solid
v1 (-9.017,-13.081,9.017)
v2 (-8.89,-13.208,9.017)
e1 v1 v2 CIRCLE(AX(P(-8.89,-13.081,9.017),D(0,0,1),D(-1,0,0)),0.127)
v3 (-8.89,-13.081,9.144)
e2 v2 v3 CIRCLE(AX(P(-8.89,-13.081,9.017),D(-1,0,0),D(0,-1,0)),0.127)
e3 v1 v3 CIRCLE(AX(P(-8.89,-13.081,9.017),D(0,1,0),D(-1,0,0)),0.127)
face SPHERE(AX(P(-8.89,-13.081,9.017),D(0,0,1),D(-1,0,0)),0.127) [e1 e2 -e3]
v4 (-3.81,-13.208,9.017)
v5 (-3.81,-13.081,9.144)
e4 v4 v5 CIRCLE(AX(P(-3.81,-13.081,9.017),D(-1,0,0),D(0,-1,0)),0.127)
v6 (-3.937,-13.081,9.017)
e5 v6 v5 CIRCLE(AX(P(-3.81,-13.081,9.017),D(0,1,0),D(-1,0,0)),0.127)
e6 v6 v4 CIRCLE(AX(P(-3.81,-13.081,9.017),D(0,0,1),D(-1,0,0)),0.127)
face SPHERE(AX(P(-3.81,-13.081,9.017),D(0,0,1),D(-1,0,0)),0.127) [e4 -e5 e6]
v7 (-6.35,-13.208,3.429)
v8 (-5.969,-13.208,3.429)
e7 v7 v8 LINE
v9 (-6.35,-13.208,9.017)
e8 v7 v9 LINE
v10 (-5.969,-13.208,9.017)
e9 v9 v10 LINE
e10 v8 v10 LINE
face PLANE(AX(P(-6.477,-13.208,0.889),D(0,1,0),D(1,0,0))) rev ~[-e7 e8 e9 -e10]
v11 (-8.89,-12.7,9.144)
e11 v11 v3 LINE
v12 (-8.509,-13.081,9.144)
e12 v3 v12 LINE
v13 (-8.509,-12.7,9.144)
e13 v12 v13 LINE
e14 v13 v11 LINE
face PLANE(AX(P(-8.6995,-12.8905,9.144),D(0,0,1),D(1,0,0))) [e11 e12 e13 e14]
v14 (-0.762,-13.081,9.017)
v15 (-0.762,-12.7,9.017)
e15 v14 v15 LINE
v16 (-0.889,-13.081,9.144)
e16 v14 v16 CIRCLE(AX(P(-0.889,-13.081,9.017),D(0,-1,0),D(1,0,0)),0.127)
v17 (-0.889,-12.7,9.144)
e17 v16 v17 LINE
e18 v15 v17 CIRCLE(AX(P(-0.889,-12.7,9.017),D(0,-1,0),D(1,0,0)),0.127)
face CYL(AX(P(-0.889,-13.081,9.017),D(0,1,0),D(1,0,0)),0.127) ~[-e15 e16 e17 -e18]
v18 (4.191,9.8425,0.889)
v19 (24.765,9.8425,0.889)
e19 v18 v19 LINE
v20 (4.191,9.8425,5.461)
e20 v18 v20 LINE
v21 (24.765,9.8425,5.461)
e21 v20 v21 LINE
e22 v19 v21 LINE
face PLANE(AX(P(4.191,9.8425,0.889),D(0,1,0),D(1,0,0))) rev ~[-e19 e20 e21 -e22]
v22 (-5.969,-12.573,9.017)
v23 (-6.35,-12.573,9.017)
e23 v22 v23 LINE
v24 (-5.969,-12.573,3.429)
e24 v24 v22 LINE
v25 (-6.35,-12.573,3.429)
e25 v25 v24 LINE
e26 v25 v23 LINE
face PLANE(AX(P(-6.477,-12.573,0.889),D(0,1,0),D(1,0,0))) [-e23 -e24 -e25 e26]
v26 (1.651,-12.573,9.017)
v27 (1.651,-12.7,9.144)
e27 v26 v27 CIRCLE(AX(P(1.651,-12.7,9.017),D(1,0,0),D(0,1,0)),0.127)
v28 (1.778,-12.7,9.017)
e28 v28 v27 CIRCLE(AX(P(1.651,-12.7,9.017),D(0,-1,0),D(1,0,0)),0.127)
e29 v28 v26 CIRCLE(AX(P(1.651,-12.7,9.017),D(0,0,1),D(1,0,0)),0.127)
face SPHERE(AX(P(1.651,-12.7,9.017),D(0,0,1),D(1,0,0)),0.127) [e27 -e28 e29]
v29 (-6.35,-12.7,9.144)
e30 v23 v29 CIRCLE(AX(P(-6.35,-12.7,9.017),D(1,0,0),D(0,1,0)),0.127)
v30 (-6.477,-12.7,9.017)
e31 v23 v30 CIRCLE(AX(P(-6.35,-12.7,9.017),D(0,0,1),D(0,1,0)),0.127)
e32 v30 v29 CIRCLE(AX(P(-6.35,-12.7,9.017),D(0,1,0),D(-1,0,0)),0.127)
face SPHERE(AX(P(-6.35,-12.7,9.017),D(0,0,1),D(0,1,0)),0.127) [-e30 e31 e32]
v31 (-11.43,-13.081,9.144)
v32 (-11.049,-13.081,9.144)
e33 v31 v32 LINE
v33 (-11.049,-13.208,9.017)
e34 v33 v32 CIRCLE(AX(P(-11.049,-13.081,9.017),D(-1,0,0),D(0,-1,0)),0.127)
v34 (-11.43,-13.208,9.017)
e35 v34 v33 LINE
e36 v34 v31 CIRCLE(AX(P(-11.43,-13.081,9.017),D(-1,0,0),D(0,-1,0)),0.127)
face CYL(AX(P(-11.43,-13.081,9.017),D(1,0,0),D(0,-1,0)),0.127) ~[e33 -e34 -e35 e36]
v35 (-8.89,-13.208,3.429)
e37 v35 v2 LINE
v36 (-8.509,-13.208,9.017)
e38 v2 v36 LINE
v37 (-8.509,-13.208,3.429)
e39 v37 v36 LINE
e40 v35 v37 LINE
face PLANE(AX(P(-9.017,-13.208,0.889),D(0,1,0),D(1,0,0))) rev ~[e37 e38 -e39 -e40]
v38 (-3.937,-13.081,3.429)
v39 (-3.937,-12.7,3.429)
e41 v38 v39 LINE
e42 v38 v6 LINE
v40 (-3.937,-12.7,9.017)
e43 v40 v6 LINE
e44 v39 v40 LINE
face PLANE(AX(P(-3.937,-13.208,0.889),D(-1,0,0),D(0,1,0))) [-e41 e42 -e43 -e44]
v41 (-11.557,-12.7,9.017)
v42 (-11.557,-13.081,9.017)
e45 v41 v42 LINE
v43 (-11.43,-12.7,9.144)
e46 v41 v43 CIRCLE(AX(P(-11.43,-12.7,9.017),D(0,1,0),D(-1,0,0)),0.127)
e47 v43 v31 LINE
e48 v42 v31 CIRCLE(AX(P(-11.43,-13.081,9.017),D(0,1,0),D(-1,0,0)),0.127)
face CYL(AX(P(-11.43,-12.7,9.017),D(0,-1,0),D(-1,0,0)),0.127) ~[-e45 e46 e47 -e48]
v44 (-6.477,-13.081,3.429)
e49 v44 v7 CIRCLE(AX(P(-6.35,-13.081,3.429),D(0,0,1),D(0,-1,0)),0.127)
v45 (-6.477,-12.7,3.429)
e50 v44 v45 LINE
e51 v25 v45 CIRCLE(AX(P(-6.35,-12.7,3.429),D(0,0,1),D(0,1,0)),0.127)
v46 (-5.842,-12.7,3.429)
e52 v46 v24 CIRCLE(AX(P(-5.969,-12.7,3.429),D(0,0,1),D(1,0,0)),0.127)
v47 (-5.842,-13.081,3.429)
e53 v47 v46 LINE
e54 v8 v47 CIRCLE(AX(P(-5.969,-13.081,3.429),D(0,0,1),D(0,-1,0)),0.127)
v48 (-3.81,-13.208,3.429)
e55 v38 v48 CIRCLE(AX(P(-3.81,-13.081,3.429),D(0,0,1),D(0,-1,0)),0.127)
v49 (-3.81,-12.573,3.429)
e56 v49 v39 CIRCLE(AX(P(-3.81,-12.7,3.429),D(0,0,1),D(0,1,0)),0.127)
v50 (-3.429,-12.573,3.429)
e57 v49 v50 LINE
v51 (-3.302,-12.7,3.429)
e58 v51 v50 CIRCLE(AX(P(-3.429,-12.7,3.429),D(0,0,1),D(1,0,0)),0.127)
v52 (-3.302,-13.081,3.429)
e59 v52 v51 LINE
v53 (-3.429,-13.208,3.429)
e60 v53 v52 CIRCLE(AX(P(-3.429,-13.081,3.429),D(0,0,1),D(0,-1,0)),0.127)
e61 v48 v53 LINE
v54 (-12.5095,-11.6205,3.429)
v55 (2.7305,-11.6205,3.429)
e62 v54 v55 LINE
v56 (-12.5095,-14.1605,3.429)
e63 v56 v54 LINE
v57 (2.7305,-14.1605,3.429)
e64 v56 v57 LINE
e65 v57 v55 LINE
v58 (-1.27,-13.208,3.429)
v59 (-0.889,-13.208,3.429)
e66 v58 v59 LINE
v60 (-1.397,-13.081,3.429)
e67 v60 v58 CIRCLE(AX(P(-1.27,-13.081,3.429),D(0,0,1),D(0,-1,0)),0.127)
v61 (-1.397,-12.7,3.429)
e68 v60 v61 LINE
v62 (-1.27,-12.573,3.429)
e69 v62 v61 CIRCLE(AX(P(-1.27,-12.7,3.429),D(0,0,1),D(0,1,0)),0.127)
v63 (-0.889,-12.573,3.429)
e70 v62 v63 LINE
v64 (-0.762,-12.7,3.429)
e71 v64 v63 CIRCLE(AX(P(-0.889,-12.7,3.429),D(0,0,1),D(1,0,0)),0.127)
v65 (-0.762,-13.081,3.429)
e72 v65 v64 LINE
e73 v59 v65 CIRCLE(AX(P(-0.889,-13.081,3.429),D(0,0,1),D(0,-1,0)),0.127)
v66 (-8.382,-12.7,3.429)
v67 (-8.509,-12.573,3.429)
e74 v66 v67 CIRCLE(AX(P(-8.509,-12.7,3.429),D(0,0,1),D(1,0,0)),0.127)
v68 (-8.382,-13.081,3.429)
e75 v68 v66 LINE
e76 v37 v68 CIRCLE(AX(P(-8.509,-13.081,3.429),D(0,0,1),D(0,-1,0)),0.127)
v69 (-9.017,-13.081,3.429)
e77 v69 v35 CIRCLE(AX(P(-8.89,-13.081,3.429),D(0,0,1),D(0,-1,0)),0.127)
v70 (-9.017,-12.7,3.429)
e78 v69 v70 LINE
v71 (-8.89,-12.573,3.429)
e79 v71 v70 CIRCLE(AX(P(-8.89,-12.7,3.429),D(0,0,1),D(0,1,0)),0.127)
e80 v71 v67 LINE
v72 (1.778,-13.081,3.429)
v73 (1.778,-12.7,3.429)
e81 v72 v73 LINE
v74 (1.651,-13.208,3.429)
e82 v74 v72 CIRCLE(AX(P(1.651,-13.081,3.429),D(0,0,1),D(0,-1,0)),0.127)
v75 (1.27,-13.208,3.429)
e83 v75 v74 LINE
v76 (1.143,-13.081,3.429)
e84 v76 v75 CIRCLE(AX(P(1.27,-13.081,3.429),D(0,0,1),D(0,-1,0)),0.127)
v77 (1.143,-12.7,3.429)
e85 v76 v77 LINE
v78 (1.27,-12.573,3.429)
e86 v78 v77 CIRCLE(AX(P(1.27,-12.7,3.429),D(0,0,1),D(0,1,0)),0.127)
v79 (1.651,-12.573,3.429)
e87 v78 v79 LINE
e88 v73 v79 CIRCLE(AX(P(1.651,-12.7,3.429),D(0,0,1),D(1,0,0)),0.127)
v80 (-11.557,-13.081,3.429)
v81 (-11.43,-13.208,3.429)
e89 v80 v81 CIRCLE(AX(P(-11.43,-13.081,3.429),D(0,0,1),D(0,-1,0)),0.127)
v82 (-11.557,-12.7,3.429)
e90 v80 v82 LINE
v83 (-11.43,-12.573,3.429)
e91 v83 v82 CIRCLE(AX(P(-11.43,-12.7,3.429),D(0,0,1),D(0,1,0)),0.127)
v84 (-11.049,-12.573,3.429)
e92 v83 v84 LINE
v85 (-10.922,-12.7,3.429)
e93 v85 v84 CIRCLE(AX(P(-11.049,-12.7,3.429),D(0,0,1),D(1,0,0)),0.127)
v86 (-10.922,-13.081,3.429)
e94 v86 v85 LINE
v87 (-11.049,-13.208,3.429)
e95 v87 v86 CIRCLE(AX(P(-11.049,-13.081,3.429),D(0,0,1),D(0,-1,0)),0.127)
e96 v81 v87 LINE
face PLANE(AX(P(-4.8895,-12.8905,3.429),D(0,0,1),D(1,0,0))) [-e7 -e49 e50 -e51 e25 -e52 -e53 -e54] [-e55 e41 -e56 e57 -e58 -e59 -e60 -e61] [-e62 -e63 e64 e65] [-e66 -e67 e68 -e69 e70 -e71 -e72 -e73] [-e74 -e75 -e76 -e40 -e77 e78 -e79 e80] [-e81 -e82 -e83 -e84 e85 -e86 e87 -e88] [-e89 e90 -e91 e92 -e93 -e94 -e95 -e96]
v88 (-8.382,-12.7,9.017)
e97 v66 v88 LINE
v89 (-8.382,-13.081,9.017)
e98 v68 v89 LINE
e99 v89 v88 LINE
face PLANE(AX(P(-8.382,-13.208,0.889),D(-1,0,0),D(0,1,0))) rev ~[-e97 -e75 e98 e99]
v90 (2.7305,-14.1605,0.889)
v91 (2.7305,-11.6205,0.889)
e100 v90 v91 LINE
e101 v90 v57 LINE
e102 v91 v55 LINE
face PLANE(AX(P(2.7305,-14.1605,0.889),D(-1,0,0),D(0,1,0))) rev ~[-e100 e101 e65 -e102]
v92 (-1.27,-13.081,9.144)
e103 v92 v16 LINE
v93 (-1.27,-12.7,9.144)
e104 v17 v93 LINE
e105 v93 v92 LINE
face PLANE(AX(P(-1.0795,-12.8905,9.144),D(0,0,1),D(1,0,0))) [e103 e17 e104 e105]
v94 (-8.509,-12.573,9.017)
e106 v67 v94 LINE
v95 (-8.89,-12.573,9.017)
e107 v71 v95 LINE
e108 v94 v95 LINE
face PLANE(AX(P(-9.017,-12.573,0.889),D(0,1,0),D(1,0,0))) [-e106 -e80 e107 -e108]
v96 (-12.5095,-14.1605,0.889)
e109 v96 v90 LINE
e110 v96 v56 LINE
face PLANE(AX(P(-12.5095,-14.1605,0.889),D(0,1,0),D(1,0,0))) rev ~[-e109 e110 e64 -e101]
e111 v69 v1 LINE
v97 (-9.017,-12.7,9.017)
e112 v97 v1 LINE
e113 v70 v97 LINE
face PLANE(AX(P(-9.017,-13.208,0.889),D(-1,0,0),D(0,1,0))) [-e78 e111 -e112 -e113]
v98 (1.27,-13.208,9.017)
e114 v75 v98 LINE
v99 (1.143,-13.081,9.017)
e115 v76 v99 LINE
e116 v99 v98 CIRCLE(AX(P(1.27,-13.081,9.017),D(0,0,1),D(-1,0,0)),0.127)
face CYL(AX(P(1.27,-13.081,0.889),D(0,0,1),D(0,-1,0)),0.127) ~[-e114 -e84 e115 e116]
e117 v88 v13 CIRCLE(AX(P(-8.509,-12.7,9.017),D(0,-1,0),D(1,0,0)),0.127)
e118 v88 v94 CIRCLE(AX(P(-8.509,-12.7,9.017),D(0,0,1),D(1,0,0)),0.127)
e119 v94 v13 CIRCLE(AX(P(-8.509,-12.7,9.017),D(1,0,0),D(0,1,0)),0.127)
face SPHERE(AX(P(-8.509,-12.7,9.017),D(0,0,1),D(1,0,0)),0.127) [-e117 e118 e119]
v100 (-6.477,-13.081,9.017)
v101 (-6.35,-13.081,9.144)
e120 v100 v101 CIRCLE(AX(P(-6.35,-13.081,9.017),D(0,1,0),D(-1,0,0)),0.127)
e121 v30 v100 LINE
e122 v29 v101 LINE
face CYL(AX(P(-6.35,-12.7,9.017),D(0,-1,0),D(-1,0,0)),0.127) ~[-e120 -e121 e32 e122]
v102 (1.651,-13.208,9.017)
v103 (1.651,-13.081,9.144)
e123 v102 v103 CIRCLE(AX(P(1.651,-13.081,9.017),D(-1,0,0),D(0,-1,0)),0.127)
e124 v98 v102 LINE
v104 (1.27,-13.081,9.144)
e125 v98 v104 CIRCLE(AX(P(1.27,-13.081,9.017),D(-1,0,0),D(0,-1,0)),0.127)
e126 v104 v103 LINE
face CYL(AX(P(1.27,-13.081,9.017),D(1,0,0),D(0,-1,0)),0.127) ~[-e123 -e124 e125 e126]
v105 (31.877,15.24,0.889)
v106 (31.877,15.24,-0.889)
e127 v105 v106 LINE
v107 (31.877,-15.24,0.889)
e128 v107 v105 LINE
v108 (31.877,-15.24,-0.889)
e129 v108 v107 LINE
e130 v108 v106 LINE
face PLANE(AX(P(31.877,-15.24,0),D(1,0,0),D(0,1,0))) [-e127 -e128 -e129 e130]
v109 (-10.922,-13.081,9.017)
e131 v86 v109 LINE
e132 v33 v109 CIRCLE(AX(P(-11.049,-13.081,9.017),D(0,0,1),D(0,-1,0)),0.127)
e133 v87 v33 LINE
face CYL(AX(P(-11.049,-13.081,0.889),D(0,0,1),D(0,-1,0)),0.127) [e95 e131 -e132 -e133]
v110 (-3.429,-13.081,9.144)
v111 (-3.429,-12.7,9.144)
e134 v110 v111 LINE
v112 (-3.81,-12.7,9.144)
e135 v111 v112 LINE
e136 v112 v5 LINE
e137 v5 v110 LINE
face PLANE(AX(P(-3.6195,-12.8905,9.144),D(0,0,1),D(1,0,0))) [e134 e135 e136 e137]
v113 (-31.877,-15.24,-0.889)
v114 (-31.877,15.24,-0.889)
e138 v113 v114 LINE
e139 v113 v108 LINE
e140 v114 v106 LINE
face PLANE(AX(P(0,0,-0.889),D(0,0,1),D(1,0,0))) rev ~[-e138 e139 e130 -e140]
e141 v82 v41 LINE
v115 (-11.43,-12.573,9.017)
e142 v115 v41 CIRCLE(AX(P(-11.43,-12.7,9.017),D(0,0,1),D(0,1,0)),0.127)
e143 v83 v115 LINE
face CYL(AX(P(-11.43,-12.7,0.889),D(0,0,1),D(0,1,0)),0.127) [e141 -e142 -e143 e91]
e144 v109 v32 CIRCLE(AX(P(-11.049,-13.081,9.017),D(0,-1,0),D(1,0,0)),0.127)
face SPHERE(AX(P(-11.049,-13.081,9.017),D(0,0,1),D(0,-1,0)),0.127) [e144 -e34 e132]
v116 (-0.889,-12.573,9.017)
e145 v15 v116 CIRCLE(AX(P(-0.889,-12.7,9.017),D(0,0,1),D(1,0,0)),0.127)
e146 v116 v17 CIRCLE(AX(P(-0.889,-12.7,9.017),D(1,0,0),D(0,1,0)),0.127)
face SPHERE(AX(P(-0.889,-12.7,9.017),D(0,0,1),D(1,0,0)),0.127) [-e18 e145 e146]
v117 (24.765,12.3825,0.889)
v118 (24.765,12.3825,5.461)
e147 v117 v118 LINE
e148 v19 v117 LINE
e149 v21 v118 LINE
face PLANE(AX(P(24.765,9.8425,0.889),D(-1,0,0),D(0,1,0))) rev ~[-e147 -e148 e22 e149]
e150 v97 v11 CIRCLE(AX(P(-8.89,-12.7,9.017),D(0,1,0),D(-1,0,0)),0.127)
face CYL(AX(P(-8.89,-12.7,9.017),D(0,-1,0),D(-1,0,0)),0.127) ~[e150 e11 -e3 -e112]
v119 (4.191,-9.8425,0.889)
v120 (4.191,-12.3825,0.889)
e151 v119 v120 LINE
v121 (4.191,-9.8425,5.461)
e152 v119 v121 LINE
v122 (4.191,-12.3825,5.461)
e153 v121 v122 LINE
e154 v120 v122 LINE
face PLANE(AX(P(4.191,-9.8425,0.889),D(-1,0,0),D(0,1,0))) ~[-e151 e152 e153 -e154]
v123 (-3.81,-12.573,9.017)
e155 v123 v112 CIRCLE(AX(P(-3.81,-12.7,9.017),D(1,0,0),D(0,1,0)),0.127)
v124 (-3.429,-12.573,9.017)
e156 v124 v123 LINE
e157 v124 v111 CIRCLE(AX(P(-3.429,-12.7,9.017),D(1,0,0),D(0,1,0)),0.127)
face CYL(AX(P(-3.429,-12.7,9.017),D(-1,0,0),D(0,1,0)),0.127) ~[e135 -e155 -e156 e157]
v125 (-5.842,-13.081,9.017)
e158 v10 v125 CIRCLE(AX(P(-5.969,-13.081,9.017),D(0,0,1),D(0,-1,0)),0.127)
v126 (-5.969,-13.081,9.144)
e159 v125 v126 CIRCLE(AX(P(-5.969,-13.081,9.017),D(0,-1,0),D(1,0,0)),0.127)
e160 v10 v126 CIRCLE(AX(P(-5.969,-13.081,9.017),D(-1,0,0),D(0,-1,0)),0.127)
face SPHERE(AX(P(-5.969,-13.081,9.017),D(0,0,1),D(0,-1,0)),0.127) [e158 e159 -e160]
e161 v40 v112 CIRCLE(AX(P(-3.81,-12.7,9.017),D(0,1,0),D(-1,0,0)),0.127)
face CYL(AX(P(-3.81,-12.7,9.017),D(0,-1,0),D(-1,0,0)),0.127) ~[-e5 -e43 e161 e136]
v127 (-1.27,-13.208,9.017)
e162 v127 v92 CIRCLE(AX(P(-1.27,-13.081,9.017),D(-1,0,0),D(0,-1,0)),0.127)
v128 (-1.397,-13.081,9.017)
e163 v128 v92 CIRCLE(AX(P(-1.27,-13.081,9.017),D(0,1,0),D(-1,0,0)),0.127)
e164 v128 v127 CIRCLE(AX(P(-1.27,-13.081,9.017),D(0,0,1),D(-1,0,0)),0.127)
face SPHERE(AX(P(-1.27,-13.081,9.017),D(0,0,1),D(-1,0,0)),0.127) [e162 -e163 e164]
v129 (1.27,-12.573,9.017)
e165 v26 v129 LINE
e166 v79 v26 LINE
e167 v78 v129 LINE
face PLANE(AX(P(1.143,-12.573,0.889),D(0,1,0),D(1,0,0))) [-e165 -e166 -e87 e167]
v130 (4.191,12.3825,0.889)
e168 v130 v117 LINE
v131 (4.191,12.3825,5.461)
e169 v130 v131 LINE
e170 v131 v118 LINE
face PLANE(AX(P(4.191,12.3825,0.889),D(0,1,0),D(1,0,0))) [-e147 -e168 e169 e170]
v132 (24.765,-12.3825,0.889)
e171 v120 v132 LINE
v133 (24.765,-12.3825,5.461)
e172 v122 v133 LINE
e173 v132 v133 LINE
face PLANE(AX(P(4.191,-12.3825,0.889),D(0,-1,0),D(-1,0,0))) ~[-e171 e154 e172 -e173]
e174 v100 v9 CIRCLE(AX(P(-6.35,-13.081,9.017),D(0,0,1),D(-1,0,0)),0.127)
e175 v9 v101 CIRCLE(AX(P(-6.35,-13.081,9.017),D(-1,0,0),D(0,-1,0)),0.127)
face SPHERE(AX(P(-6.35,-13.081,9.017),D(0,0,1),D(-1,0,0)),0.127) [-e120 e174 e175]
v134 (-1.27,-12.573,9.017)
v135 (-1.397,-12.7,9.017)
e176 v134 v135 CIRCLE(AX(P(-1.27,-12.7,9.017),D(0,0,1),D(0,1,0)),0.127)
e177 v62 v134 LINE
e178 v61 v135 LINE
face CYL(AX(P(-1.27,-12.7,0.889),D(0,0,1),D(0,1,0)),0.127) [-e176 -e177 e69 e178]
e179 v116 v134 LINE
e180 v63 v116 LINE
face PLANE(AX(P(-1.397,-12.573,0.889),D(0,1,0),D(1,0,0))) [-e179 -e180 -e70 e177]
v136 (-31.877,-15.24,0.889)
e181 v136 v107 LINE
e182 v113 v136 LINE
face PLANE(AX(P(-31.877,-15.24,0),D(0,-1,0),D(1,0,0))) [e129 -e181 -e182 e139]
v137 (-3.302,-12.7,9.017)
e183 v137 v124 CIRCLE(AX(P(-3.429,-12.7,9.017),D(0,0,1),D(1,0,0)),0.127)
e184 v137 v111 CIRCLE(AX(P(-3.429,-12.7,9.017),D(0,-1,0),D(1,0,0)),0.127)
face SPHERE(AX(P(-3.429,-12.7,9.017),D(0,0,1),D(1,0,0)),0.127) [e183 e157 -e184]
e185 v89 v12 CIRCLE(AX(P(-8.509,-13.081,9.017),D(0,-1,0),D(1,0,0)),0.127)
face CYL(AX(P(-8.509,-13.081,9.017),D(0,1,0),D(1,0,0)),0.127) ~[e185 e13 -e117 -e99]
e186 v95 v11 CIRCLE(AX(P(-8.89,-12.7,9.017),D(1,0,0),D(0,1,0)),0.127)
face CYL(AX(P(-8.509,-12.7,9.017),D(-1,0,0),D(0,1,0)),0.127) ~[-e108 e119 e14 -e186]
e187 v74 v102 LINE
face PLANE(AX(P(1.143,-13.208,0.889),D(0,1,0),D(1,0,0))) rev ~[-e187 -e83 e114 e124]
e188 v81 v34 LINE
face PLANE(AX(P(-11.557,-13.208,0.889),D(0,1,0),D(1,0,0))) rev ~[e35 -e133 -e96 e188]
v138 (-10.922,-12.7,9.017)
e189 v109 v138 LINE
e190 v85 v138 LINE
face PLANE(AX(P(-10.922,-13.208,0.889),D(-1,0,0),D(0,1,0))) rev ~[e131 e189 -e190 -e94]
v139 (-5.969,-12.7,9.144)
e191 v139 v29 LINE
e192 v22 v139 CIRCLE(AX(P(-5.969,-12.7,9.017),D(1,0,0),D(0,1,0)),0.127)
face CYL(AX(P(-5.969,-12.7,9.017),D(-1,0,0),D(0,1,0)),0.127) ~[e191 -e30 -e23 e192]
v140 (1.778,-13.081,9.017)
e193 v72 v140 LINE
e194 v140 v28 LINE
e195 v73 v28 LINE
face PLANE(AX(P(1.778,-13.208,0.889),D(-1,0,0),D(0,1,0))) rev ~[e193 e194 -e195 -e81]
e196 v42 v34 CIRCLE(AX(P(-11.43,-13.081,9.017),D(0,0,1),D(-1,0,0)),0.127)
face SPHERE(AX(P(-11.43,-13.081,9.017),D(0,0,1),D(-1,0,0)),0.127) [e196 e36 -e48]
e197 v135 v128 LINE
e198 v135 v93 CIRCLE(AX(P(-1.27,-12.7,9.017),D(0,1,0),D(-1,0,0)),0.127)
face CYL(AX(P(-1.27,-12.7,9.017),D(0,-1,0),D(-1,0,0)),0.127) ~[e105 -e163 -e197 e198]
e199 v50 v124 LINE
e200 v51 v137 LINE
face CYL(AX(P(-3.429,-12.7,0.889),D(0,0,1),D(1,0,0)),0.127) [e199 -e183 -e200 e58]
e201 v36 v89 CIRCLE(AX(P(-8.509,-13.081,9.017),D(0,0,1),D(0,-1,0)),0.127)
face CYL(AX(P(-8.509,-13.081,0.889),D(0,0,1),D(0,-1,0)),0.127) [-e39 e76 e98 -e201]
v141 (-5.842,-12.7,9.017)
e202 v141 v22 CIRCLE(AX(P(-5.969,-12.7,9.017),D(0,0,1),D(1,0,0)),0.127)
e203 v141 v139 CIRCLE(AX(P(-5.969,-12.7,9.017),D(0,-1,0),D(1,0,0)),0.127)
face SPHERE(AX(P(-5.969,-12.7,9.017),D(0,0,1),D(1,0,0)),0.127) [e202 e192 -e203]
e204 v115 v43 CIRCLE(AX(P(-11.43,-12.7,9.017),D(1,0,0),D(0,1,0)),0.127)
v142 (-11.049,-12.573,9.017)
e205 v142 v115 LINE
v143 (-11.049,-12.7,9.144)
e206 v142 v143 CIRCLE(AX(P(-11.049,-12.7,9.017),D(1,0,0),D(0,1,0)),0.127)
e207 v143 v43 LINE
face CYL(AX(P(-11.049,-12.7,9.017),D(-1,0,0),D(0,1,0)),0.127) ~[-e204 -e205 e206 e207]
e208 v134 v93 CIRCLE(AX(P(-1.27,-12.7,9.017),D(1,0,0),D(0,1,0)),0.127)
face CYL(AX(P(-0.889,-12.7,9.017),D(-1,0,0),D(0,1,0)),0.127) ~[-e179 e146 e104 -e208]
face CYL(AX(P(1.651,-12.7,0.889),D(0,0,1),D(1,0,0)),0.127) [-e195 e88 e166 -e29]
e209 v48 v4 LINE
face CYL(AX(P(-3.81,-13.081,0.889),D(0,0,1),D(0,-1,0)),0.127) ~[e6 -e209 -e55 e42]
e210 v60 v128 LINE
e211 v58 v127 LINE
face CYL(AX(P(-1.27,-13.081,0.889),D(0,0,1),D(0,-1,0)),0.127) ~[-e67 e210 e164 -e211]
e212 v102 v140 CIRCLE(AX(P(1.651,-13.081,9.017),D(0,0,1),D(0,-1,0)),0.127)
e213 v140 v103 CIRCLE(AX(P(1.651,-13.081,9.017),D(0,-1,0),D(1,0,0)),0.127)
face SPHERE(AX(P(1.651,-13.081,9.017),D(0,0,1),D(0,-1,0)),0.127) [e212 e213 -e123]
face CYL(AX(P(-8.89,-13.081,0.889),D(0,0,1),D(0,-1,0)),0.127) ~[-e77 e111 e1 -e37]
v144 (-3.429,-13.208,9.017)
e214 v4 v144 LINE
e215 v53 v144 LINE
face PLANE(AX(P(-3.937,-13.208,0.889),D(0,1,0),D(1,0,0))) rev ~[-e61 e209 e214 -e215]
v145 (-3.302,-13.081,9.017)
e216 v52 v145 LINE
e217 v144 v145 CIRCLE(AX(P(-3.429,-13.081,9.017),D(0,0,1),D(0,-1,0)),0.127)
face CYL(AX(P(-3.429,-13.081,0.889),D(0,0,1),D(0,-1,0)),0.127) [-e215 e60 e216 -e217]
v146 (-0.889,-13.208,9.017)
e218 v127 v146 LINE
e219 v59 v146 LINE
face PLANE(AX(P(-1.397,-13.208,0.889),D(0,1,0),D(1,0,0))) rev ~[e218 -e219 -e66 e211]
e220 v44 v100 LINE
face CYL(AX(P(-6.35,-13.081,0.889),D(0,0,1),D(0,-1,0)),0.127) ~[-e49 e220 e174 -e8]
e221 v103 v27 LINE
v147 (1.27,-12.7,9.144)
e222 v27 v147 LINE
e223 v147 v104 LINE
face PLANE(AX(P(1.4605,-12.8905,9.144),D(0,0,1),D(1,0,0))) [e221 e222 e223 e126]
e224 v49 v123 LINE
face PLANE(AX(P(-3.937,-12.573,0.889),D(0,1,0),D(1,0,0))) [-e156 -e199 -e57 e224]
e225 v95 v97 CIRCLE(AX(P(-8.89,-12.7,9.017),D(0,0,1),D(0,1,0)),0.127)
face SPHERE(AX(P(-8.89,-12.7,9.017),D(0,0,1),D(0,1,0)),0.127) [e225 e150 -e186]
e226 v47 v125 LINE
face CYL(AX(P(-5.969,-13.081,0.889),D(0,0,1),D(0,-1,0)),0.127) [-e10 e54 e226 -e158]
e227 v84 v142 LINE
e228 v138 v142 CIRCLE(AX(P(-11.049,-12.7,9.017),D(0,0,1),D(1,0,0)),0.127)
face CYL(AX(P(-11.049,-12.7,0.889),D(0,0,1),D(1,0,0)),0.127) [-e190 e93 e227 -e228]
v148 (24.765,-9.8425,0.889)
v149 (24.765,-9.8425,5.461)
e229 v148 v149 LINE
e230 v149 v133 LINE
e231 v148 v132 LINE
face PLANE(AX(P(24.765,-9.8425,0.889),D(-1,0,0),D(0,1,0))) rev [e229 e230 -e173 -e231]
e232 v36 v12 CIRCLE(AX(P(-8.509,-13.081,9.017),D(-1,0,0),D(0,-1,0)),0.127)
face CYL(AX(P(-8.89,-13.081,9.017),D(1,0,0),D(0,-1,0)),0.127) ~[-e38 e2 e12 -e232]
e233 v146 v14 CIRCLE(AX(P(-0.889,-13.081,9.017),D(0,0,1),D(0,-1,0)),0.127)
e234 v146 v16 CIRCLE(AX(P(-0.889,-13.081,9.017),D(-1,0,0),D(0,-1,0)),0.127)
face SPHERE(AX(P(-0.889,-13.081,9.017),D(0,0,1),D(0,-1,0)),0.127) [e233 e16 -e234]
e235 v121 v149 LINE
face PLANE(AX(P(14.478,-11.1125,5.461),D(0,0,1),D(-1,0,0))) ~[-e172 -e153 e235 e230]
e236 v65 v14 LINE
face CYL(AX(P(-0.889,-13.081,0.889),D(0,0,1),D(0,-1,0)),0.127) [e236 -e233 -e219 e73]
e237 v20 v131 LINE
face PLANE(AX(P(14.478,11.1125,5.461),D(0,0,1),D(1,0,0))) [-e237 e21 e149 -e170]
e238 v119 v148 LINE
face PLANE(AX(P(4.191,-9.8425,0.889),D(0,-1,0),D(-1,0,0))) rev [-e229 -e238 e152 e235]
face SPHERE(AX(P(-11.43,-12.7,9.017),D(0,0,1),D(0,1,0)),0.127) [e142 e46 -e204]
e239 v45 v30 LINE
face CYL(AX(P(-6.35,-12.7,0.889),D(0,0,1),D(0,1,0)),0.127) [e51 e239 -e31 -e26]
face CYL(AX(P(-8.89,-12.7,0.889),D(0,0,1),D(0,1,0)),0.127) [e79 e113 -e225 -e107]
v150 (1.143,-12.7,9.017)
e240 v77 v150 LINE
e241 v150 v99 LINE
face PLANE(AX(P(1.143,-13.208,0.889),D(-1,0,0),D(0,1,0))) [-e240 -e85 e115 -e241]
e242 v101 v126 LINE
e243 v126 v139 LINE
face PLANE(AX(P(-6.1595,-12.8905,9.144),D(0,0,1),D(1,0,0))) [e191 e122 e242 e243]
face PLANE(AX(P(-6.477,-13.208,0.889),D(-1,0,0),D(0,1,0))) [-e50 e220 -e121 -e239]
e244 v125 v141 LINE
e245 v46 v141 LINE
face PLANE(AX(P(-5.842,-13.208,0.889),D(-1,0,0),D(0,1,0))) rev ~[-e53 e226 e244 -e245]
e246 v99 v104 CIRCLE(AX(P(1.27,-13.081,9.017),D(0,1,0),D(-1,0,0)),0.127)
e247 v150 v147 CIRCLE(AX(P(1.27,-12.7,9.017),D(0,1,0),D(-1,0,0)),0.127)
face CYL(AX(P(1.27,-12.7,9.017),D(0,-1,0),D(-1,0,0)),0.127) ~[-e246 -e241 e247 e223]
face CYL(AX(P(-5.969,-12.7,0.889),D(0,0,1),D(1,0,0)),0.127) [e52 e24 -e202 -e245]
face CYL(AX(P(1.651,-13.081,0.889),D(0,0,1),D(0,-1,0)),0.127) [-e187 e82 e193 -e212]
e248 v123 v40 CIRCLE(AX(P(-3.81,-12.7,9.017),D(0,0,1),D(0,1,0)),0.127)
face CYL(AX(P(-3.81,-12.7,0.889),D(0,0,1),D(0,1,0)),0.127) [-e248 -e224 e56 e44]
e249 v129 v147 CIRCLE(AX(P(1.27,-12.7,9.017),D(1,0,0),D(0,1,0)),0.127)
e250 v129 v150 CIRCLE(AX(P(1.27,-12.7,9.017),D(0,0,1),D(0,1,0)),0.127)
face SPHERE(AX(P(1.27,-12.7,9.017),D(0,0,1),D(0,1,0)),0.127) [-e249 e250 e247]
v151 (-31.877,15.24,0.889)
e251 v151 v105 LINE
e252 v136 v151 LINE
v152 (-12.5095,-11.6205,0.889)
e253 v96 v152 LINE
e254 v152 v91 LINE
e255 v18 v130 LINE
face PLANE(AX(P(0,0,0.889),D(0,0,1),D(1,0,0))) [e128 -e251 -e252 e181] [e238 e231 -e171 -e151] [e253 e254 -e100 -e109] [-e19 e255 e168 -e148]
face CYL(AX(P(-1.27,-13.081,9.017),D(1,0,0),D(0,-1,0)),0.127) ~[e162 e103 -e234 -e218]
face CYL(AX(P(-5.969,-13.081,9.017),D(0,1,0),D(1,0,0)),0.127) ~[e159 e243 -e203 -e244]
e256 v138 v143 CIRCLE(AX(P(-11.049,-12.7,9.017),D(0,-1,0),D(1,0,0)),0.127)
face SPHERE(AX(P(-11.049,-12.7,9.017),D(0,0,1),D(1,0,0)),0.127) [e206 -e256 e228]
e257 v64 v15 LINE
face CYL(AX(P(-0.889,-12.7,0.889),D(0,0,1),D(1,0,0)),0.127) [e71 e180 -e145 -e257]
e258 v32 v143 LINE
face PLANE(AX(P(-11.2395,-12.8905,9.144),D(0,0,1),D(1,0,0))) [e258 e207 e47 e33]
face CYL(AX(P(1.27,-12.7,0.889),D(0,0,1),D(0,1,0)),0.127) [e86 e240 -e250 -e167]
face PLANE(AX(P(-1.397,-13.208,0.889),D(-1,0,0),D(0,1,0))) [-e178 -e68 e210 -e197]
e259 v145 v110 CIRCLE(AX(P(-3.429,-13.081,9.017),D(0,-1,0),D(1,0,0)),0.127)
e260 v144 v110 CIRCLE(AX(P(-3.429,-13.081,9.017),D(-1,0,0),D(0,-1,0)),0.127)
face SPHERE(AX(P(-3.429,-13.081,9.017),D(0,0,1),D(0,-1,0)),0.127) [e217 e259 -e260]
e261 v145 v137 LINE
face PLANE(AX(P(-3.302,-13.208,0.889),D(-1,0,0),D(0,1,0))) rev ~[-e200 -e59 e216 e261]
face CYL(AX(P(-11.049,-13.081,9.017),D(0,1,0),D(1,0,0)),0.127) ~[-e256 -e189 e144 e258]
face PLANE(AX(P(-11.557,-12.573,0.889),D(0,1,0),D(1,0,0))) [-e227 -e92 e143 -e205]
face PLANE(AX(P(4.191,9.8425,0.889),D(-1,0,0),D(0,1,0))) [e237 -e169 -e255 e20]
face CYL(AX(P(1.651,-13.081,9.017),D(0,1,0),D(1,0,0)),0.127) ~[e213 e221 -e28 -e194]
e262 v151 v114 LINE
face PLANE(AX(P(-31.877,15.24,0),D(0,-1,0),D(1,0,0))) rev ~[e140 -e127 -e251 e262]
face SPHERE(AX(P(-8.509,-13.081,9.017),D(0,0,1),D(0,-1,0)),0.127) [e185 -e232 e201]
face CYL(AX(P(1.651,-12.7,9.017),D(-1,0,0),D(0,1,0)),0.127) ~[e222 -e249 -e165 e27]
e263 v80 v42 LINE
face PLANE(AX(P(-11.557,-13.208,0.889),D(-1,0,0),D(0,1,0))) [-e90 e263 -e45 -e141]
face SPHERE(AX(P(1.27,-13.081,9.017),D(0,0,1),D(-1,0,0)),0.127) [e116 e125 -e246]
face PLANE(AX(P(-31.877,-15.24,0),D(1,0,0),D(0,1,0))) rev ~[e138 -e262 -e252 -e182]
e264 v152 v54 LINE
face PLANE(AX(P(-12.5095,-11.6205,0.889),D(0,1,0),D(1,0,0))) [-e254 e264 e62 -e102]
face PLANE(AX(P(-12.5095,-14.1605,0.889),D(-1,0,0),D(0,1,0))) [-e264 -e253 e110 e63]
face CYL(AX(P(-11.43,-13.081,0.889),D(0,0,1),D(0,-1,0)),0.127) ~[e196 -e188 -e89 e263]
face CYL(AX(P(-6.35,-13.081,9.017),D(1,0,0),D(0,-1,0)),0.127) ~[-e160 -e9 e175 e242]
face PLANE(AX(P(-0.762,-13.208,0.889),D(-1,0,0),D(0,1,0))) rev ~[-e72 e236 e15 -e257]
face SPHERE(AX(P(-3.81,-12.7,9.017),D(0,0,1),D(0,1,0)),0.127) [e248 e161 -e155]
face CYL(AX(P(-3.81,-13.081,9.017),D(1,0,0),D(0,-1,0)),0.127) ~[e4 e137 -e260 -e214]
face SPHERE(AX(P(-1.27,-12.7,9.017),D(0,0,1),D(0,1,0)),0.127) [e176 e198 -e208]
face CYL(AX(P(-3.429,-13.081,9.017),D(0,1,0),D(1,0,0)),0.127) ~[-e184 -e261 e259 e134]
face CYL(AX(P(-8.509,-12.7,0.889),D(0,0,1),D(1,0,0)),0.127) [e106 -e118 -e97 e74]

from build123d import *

# Parameters (mm, degrees)
SKETCH1_W              = 63.754
SKETCH1_H              = 30.48
BOSS_EXTRUDE1_DEPTH    = 0.889
SKETCH2_W              = 20.574
SKETCH2_H              = 2.54
BOSS_EXTRUDE2_DEPTH    = 4.572
SKETCH3_W              = 0.635
SKETCH3_H              = 0.635
BOSS_EXTRUDE3_DEPTH    = 8.255
FILLET3_R              = 0.127
FILLET4_R              = 0.127
LPATTERN1_COUNT        = 6
LPATTERN1_PITCH        = 2.54
FILLET3_OF_LPATTERN1_R = 0.127
FILLET4_OF_LPATTERN1_R = 0.127
SKETCH4_W              = 15.24
SKETCH4_H              = 2.54
BOSS_EXTRUDE4_DEPTH    = 2.54


with BuildPart() as part:
    # Sketch1 → Boss-Extrude1 (new body, symmetric)
    with BuildSketch(Plane.XY):
        Rectangle(SKETCH1_W, SKETCH1_H)
    extrude(amount=BOSS_EXTRUDE1_DEPTH, both=True)

    # Sketch2 → Boss-Extrude2 (add)
    with BuildSketch(Plane.XY.offset(0.889)):
        with Locations((14.478, 11.1125)):
            Rectangle(SKETCH2_W, SKETCH2_H)
    boss_extrude2 = extrude(amount=BOSS_EXTRUDE2_DEPTH)

    # Mirror1: Boss-Extrude2 across plane
    add(boss_extrude2.mirror(Plane.ZX))

    # Sketch3 → Boss-Extrude3 (add)
    with BuildSketch(Plane.XY.offset(0.889)):
        with Locations((-11.2395, -12.8905)):
            Rectangle(SKETCH3_W, SKETCH3_H)
    boss_extrude3 = extrude(amount=BOSS_EXTRUDE3_DEPTH)

    # Fillet3
    fillet3_edges = [part.edges().sort_by_distance(p)[0] for p in [
        (-10.922, -13.208, 5.0165),
        (-10.922, -12.573, 5.0165),
        (-11.557, -12.573, 5.0165),
        (-11.557, -13.208, 5.0165),
    ]]
    fillet(fillet3_edges, radius=FILLET3_R)

    # Fillet4
    fillet4_edges = [part.edges().sort_by_distance(p)[0] for p in [
        (-10.922, -12.8905, 9.144),
        (-11.2395, -13.208, 9.144),
        (-11.2395, -12.573, 9.144),
        (-11.557, -12.8905, 9.144),
        (-11.519802561, -12.610197439, 9.144),
        (-10.959197439, -12.610197439, 9.144),
        (-11.519802561, -13.170802561, 9.144),
        (-10.959197439, -13.170802561, 9.144),
    ]]
    fillet(fillet4_edges, radius=FILLET4_R)

    # LPattern1: Boss-Extrude3 ×6
    with Locations(*[(i * LPATTERN1_PITCH, 0, 0) for i in range(1, LPATTERN1_COUNT)]):
        add(boss_extrude3)

    # Fillet3 of LPattern1
    fillet3_of_lpattern1_edges = [part.edges().sort_by_distance(p)[0] for p in [
        (-8.382, -13.208, 5.0165),
        (-8.382, -12.573, 5.0165),
        (-9.017, -12.573, 5.0165),
        (-9.017, -13.208, 5.0165),
        (-5.842, -13.208, 5.0165),
        (-5.842, -12.573, 5.0165),
        (-6.477, -12.573, 5.0165),
        (-6.477, -13.208, 5.0165),
        (-3.302, -13.208, 5.0165),
        (-3.302, -12.573, 5.0165),
        (-3.937, -12.573, 5.0165),
        (-3.937, -13.208, 5.0165),
        (-0.762, -13.208, 5.0165),
        (-0.762, -12.573, 5.0165),
        (-1.397, -12.573, 5.0165),
        (-1.397, -13.208, 5.0165),
        (1.778, -13.208, 5.0165),
        (1.778, -12.573, 5.0165),
        (1.143, -12.573, 5.0165),
        (1.143, -13.208, 5.0165),
    ]]
    fillet(fillet3_of_lpattern1_edges, radius=FILLET3_OF_LPATTERN1_R)

    # Fillet4 of LPattern1
    fillet4_of_lpattern1_edges = [part.edges().sort_by_distance(p)[0] for p in [
        (-8.382, -12.8905, 9.144),
        (-8.6995, -13.208, 9.144),
        (-8.6995, -12.573, 9.144),
        (-9.017, -12.8905, 9.144),
        (-8.979802561, -12.610197439, 9.144),
        (-8.419197439, -12.610197439, 9.144),
        (-8.979802561, -13.170802561, 9.144),
        (-8.419197439, -13.170802561, 9.144),
        (-5.842, -12.8905, 9.144),
        (-6.1595, -13.208, 9.144),
        (-6.1595, -12.573, 9.144),
        (-6.477, -12.8905, 9.144),
        (-6.439802561, -12.610197439, 9.144),
        (-5.879197439, -12.610197439, 9.144),
        (-6.439802561, -13.170802561, 9.144),
        (-5.879197439, -13.170802561, 9.144),
        (-3.302, -12.8905, 9.144),
        (-3.6195, -13.208, 9.144),
        (-3.6195, -12.573, 9.144),
        (-3.937, -12.8905, 9.144),
        (-3.899802561, -12.610197439, 9.144),
        (-3.339197439, -12.610197439, 9.144),
        (-3.899802561, -13.170802561, 9.144),
        (-3.339197439, -13.170802561, 9.144),
        (-0.762, -12.8905, 9.144),
        (-1.0795, -13.208, 9.144),
        (-1.0795, -12.573, 9.144),
        (-1.397, -12.8905, 9.144),
        (-1.359802561, -12.610197439, 9.144),
        (-0.799197439, -12.610197439, 9.144),
        (-1.359802561, -13.170802561, 9.144),
        (-0.799197439, -13.170802561, 9.144),
        (1.778, -12.8905, 9.144),
        (1.4605, -13.208, 9.144),
        (1.4605, -12.573, 9.144),
        (1.143, -12.8905, 9.144),
        (1.180197439, -12.610197439, 9.144),
        (1.740802561, -12.610197439, 9.144),
        (1.180197439, -13.170802561, 9.144),
        (1.740802561, -13.170802561, 9.144),
    ]]
    fillet(fillet4_of_lpattern1_edges, radius=FILLET4_OF_LPATTERN1_R)

    # Sketch4 → Boss-Extrude4 (add)
    with BuildSketch(Plane.XY.offset(0.889)):
        with Locations((-4.8895, -12.8905)):
            Rectangle(SKETCH4_W, SKETCH4_H)
    extrude(amount=BOSS_EXTRUDE4_DEPTH)


solid = part.part
